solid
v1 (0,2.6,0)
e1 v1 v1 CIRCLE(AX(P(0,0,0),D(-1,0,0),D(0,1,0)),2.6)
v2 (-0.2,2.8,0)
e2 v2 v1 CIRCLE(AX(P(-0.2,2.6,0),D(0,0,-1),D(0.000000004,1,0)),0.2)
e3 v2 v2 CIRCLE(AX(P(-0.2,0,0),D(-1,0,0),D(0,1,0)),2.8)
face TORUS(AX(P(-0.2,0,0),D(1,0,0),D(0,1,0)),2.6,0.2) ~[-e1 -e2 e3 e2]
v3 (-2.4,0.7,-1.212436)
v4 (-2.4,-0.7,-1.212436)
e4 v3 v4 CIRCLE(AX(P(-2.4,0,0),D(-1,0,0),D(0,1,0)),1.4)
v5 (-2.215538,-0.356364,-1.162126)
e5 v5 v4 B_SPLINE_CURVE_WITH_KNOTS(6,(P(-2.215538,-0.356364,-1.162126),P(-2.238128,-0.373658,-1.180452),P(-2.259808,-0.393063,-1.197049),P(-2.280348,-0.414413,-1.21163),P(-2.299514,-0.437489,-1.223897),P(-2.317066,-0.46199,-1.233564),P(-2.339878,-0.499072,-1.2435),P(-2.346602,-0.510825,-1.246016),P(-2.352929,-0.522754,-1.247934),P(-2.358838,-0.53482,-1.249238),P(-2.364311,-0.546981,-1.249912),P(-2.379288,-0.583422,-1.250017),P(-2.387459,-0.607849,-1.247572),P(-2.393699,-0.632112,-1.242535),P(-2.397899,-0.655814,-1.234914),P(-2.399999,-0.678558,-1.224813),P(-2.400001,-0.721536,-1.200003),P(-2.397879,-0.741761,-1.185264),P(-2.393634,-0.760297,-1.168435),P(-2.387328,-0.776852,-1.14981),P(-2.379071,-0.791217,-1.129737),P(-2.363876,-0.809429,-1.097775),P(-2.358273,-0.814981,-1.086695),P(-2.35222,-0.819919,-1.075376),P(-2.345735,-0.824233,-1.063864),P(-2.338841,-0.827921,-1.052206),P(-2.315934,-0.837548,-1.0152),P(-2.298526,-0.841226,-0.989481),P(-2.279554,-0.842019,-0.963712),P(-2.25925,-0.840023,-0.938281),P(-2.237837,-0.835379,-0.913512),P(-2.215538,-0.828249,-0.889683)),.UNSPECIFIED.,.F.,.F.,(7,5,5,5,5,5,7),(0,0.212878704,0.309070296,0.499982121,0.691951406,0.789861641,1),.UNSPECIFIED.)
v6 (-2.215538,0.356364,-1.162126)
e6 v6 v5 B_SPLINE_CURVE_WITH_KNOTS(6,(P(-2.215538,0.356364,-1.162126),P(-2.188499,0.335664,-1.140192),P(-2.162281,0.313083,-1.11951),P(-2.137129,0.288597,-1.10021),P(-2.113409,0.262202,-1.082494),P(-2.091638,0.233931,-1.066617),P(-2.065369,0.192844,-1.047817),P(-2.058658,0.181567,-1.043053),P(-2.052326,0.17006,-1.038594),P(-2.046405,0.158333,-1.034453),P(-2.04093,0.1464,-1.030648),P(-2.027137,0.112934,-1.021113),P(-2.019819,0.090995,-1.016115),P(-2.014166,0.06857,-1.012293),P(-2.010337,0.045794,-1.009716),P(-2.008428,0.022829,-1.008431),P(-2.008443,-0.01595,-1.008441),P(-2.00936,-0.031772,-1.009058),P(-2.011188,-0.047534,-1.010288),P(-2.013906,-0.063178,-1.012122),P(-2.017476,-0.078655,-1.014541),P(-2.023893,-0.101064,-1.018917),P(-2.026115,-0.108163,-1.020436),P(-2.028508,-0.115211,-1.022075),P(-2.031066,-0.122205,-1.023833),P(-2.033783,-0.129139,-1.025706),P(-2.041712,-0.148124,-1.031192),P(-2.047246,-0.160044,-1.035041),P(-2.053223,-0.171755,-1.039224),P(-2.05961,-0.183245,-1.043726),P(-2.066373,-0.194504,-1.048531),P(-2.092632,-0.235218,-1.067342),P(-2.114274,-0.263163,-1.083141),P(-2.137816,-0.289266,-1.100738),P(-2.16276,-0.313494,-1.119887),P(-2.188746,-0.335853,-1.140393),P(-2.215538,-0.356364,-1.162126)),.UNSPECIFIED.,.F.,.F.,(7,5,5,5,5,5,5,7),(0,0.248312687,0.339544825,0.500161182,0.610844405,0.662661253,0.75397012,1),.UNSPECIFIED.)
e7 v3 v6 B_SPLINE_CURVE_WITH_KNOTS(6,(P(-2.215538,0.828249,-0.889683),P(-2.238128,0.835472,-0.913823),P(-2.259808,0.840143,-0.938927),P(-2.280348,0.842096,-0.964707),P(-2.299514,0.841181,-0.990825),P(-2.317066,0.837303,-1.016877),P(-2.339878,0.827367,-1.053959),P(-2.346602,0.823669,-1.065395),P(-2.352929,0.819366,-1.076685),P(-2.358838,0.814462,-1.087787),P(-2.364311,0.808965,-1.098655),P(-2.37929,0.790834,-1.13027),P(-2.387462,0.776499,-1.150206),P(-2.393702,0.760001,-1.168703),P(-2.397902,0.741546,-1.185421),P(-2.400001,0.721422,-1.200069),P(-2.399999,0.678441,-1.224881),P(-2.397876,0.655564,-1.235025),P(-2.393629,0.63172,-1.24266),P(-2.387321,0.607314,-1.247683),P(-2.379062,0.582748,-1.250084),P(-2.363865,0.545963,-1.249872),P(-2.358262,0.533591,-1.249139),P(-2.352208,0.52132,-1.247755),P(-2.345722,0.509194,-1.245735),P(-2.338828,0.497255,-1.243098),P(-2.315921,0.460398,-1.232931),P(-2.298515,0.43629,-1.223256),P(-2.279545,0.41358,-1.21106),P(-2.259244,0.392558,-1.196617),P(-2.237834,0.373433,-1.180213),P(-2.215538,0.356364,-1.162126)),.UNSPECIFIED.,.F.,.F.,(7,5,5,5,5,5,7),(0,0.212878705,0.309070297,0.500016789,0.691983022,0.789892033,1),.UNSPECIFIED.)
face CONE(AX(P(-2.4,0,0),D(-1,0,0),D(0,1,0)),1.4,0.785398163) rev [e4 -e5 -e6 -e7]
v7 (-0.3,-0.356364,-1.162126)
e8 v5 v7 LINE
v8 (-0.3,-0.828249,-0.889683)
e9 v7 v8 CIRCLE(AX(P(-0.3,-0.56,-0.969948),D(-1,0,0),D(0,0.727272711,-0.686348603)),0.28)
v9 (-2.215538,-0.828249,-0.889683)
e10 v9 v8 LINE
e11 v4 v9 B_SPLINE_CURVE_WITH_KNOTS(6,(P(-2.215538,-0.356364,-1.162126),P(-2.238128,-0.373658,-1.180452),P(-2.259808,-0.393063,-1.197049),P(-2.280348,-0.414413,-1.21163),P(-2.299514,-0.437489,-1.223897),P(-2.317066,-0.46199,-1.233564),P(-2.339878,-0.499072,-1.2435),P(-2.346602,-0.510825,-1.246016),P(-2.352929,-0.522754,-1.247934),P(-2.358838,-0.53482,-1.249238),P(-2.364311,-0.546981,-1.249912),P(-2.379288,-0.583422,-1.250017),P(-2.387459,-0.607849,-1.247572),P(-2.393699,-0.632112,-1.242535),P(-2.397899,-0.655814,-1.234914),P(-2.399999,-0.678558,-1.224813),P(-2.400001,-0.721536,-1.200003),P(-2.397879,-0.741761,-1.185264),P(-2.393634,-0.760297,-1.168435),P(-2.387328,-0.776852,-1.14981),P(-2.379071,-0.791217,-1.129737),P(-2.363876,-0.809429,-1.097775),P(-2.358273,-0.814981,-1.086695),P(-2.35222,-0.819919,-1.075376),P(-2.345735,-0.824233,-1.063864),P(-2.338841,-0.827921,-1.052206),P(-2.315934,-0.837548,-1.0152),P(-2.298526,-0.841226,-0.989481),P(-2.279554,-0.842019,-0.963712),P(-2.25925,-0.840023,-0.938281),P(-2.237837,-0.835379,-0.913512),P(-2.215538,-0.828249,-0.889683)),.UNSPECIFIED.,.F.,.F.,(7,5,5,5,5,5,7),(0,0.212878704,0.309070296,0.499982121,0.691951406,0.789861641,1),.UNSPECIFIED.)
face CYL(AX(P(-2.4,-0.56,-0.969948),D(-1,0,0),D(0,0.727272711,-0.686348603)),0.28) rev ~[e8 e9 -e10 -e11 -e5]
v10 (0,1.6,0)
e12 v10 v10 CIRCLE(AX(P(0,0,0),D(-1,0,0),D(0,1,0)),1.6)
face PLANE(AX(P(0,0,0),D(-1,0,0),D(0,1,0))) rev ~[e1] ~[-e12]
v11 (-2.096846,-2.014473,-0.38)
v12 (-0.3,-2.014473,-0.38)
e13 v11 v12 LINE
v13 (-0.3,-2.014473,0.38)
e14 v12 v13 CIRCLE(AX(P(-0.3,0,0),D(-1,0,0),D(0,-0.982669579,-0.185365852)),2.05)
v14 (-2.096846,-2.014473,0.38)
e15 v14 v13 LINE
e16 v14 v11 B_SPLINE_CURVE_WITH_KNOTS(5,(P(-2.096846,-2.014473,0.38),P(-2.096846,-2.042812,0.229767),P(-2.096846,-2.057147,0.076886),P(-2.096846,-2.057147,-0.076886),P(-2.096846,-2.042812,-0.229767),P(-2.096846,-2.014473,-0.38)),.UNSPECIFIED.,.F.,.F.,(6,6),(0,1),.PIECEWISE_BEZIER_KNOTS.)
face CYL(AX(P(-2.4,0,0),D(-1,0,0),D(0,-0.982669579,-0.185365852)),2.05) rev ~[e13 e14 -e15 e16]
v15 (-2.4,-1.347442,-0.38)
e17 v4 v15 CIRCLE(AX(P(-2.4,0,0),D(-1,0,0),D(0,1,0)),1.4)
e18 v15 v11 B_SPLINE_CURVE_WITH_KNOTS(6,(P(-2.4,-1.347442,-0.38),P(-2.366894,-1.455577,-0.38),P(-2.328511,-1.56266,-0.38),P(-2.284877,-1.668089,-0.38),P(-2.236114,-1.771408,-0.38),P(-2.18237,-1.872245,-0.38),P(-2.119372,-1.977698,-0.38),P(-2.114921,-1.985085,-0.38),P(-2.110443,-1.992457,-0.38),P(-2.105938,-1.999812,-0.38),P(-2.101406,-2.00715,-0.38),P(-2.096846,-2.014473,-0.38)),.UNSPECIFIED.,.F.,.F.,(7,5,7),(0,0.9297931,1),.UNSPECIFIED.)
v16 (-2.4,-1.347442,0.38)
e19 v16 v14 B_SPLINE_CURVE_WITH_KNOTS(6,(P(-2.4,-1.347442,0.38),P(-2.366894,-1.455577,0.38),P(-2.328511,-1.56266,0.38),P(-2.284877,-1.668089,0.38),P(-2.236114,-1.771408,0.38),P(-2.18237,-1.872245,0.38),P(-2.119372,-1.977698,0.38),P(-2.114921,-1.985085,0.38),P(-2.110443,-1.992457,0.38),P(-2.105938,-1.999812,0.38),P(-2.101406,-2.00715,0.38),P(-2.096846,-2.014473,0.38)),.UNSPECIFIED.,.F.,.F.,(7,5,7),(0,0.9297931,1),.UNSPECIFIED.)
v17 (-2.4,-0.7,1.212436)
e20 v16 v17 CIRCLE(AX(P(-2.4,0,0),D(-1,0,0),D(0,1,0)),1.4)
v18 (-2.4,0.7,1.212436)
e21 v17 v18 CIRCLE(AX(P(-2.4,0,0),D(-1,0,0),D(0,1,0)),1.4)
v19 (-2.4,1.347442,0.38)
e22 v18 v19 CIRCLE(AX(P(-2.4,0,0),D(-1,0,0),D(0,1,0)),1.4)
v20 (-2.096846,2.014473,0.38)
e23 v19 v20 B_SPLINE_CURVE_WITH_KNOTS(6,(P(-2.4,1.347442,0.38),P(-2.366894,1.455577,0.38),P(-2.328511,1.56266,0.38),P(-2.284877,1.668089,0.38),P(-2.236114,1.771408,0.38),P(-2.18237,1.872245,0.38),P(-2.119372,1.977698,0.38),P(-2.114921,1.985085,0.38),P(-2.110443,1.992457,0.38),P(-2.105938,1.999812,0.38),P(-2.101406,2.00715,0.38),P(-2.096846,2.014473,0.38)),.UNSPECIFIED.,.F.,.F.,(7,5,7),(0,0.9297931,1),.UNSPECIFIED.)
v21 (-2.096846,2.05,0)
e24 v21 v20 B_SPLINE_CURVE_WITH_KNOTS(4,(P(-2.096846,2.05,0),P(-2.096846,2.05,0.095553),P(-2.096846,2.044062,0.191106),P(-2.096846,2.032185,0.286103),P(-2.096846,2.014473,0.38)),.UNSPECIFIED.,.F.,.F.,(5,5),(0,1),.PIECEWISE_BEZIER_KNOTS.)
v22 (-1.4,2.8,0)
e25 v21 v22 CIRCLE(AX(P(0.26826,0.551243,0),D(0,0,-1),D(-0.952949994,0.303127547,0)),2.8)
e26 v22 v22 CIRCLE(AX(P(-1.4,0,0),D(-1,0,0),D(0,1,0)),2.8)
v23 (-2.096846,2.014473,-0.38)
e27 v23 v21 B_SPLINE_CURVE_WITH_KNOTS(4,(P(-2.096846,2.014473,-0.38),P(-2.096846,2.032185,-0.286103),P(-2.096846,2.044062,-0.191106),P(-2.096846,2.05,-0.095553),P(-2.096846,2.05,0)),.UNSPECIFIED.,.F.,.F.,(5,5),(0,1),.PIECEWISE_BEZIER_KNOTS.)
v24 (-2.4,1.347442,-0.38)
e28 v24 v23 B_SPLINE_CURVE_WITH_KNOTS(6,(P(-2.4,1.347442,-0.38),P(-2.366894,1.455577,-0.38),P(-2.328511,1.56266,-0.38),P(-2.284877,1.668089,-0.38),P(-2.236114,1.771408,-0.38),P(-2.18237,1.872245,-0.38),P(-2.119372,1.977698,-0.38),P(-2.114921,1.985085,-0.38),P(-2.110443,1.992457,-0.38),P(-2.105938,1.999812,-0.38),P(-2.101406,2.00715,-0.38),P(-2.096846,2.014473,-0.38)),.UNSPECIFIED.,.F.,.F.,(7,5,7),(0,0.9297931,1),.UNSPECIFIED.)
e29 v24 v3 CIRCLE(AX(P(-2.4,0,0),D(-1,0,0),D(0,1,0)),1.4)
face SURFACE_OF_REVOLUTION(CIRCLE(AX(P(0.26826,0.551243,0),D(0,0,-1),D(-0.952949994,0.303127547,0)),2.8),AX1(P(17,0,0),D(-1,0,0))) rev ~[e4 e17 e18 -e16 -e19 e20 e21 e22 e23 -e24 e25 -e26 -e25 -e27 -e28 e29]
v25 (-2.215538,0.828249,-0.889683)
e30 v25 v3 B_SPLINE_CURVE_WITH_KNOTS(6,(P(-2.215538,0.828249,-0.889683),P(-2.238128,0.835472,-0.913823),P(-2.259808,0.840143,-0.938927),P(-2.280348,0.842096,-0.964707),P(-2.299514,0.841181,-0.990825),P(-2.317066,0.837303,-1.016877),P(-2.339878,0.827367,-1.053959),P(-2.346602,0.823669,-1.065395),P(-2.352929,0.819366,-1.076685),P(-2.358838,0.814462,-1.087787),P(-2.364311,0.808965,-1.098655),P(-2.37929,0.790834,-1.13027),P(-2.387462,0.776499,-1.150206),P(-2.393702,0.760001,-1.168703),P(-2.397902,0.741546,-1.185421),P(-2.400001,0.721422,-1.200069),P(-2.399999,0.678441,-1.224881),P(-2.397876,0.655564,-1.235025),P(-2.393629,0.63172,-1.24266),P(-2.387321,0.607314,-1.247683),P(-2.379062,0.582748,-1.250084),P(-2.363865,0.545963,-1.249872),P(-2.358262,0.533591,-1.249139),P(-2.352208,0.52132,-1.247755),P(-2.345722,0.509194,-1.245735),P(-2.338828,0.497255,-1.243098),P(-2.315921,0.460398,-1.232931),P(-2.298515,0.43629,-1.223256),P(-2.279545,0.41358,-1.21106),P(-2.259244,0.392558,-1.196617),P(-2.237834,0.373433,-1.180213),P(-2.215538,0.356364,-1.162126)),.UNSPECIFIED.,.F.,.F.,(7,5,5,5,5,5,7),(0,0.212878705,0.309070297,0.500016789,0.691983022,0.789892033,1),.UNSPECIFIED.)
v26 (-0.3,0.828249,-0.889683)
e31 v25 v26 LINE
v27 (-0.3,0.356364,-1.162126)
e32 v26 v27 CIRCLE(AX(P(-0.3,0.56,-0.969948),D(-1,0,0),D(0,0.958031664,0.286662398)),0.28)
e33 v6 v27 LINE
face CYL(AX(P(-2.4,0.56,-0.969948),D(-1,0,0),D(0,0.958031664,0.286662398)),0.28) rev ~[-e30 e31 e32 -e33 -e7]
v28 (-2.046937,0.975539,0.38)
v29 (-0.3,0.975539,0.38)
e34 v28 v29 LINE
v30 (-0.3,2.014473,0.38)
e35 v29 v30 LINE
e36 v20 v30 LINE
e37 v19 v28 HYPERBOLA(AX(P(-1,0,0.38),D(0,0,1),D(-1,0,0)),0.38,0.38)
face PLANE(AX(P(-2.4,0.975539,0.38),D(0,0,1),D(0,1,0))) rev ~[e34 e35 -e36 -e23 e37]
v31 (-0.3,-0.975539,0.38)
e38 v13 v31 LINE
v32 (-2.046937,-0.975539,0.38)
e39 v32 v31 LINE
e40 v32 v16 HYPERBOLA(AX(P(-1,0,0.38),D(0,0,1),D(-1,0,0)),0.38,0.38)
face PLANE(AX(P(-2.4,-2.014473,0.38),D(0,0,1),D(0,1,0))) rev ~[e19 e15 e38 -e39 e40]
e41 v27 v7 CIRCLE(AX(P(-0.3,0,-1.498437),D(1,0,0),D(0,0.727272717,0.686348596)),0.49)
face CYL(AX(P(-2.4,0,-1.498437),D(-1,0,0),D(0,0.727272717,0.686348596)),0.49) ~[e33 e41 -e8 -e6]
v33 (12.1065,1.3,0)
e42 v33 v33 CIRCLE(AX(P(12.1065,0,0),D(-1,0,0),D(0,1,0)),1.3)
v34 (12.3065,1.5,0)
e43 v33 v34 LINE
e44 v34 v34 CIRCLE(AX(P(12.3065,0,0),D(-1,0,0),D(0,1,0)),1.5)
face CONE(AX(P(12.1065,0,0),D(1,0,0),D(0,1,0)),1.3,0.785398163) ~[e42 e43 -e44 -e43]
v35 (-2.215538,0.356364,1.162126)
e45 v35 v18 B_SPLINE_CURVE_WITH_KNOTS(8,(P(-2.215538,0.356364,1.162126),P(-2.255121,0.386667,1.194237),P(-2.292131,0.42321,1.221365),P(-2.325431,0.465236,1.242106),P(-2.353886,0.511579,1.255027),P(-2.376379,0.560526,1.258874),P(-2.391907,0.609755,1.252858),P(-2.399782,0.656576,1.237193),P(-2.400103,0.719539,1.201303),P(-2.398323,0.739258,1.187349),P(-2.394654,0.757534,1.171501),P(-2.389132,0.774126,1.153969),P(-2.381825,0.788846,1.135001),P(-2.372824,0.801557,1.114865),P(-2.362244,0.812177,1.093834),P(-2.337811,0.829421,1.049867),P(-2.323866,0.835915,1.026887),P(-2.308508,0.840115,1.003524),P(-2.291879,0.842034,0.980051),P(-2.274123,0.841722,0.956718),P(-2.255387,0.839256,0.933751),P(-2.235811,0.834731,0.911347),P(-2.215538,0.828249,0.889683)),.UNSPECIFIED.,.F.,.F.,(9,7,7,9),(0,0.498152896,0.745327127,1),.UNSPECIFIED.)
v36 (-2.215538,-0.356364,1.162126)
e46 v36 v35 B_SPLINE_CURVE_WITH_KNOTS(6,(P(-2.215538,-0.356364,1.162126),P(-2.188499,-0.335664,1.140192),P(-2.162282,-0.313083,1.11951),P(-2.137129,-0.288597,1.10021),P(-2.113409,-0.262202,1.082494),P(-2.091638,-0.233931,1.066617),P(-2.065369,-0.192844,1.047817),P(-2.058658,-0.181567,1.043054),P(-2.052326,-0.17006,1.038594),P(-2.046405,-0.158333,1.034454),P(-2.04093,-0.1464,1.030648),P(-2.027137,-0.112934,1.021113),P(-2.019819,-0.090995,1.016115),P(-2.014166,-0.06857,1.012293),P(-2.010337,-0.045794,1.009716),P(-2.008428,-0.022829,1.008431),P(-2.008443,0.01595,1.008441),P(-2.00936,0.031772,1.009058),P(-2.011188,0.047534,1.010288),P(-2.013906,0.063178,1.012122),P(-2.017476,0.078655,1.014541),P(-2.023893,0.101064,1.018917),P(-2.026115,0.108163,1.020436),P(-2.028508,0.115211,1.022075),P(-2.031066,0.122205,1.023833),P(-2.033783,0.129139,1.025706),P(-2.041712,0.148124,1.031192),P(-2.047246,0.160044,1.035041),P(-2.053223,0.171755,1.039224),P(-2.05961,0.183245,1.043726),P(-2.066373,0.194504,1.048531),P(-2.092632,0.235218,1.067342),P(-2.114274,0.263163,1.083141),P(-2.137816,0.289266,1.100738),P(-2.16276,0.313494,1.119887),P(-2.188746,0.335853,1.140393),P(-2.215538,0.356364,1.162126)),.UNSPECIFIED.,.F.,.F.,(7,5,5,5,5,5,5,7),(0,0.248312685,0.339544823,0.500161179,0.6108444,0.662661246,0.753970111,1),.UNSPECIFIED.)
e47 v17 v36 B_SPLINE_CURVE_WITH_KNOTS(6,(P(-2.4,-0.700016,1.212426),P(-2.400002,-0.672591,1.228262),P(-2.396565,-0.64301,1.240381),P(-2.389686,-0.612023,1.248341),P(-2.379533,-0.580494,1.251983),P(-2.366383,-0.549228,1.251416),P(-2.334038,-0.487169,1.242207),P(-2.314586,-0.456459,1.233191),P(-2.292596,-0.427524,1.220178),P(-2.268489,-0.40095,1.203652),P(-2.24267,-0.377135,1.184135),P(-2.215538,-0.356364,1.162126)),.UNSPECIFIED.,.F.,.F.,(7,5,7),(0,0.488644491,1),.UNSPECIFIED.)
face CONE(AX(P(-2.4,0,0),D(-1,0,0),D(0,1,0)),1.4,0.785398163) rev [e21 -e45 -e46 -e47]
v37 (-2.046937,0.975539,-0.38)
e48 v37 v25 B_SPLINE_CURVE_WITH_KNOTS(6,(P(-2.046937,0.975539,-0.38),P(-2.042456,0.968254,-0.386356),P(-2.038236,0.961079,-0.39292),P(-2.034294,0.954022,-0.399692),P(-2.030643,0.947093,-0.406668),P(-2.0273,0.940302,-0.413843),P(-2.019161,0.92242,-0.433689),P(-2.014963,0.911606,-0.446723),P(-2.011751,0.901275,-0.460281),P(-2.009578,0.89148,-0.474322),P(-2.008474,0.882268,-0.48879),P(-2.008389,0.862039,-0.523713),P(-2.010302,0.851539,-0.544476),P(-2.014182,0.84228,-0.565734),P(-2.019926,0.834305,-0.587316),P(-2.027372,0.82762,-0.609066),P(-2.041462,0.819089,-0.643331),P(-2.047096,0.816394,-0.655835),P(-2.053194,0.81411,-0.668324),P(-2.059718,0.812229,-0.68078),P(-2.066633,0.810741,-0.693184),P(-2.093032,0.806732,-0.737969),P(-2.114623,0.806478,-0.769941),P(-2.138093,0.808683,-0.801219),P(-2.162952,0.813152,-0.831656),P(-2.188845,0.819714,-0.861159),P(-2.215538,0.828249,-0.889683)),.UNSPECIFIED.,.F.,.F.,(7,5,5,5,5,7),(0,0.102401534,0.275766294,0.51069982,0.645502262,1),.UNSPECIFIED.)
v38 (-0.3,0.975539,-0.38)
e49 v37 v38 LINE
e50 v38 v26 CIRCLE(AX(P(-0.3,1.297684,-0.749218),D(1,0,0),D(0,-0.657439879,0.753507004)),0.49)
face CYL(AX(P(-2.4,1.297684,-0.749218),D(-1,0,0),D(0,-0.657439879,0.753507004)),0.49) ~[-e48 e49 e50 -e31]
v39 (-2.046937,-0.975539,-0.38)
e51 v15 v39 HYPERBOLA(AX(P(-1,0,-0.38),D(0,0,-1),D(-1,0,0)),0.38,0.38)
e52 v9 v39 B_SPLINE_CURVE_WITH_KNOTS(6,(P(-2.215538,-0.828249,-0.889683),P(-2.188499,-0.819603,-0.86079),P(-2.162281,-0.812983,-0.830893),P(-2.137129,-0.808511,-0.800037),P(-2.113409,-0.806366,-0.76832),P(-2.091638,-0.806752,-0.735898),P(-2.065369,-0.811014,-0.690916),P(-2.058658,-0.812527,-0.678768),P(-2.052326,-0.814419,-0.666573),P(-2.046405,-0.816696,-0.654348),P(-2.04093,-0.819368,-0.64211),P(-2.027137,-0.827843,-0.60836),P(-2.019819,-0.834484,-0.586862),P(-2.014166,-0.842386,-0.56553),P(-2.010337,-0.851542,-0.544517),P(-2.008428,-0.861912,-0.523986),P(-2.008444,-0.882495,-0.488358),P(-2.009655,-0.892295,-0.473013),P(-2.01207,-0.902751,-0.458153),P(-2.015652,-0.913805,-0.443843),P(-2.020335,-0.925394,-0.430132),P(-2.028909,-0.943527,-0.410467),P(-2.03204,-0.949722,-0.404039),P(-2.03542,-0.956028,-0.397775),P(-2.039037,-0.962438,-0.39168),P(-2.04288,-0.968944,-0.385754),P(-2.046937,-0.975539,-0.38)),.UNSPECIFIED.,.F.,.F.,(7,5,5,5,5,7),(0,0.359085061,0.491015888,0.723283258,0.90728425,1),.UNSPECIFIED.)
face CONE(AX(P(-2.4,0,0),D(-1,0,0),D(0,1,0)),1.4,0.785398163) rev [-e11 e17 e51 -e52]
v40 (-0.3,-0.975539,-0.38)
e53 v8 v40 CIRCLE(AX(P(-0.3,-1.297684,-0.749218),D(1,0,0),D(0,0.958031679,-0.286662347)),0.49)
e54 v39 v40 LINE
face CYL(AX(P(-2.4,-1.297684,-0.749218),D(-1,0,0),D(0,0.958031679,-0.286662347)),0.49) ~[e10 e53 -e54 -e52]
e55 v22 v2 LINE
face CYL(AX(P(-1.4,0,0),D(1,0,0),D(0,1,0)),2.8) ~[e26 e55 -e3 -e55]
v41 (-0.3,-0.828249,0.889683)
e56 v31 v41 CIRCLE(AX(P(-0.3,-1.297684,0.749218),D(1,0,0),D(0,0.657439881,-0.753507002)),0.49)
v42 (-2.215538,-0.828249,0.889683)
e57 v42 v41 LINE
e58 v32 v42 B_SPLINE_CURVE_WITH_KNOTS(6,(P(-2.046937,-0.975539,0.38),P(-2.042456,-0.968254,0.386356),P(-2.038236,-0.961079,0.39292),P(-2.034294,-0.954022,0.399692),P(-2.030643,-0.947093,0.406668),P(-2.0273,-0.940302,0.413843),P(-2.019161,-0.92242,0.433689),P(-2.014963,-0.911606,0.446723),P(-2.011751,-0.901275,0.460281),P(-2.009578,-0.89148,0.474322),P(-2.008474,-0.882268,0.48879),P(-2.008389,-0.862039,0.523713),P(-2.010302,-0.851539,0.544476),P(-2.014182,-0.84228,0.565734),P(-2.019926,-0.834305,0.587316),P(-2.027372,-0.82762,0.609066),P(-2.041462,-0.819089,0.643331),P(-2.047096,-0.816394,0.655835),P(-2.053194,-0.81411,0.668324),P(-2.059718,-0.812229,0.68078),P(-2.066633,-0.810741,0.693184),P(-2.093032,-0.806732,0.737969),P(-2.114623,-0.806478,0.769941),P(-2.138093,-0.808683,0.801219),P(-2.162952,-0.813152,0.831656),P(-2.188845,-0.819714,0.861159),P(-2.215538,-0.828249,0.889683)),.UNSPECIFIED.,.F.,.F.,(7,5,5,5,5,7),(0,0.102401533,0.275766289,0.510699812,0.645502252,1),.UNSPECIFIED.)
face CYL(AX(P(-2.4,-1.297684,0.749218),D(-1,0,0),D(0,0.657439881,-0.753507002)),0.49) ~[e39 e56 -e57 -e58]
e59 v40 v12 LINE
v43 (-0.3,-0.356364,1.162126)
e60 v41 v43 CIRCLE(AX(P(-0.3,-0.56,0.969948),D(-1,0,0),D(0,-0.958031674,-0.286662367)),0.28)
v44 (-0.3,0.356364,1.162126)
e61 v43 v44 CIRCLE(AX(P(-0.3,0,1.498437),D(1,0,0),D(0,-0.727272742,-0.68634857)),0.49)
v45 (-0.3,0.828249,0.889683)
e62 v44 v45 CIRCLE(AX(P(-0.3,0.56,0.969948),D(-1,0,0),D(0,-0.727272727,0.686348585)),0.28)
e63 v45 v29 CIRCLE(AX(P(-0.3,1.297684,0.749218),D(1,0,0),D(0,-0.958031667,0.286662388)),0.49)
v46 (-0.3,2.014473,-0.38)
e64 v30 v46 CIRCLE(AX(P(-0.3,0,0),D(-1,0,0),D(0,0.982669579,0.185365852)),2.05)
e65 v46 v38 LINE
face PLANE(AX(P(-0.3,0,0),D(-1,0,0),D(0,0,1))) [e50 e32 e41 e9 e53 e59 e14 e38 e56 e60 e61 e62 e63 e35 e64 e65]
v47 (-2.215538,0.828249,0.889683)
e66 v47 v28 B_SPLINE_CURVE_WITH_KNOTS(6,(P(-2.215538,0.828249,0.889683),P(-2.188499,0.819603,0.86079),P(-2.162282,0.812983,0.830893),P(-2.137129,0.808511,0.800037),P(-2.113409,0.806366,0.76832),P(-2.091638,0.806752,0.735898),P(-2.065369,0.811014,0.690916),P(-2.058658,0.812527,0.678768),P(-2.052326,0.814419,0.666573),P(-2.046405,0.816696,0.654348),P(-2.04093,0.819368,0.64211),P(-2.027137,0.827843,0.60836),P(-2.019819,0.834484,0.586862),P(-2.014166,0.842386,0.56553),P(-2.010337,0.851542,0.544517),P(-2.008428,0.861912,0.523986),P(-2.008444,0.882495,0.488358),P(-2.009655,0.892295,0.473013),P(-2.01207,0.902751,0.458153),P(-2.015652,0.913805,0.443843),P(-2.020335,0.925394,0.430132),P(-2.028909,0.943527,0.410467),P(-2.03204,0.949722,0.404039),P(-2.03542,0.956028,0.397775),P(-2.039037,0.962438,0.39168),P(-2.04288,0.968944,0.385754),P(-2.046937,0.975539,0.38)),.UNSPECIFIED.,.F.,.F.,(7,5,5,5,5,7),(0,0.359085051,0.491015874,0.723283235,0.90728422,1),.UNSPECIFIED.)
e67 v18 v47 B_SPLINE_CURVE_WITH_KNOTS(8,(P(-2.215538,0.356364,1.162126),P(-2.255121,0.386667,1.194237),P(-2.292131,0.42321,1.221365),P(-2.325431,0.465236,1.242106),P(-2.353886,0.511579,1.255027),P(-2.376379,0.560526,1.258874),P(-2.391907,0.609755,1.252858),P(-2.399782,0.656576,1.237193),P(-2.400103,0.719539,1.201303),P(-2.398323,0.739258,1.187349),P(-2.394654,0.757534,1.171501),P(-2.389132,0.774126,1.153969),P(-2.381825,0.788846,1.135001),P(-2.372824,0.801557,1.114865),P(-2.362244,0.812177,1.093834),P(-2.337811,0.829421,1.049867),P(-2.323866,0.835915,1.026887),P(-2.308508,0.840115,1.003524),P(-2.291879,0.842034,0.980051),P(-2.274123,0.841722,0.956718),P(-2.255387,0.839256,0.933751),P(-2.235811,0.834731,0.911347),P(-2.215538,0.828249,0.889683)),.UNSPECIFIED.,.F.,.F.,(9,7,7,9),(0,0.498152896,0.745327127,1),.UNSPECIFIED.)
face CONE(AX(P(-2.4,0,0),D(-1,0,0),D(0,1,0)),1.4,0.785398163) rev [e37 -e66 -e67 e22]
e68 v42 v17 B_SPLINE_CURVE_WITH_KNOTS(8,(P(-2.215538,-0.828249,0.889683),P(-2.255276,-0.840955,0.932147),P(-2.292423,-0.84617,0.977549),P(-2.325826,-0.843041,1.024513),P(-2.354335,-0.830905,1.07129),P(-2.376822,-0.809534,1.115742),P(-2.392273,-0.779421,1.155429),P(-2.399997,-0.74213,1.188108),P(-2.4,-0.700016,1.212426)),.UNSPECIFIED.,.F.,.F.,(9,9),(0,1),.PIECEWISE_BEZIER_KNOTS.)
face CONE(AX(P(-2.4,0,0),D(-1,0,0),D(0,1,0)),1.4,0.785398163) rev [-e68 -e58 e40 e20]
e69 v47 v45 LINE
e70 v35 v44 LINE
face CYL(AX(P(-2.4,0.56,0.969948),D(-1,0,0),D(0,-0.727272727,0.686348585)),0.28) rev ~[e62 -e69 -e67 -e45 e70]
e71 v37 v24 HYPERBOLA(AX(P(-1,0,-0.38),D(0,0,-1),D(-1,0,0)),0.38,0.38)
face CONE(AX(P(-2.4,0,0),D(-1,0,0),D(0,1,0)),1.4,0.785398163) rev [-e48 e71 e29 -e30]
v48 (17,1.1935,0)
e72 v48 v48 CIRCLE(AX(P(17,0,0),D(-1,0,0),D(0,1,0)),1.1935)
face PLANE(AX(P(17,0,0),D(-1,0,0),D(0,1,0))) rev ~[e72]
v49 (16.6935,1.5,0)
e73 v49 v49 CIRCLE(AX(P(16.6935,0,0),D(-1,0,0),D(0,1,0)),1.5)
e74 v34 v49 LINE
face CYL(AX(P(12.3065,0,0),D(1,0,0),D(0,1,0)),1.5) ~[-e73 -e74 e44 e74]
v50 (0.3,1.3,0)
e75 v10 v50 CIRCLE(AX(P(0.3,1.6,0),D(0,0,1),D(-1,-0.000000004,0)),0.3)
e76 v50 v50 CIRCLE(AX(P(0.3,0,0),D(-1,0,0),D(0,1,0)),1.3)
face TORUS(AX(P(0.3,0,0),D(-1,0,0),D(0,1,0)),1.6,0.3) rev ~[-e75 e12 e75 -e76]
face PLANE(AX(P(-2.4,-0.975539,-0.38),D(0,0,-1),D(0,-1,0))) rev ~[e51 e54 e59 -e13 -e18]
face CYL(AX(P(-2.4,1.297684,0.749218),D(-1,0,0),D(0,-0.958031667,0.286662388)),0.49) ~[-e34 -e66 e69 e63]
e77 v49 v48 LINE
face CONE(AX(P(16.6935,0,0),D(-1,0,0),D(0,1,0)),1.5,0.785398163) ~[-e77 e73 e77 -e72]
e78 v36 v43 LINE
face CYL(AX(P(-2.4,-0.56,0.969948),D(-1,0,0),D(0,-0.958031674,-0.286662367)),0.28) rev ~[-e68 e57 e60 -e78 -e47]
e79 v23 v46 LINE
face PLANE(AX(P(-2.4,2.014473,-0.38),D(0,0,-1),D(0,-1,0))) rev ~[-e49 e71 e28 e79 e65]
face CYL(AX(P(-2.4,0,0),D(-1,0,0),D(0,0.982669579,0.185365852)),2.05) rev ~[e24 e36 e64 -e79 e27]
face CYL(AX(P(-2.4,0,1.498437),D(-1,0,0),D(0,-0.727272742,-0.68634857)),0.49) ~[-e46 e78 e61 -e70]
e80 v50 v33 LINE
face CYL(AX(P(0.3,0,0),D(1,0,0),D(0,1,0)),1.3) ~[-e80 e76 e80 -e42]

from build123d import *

# Parameters (mm, degrees)
CUT_EXTRUDE1_DEPTH = 2.1


with BuildPart() as part:
    # Sketch1 → Revolve1 (revolve)
    with BuildSketch(Plane.XY):
        with BuildLine():
            Line((-2.4, 0), (-2.4, 1.4))
            ThreePointArc((-2.4, 1.4), (-2.010193737, 2.178709812), (-1.4, 2.8))
            Line((-1.4, 2.8), (-0.2, 2.8))
            ThreePointArc((-0.2, 2.8), (-0.058578644, 2.741421356), (0, 2.6))
            Line((0, 2.6), (0, 1.6))
            ThreePointArc((0, 1.6), (0.087867966, 1.387867966), (0.3, 1.3))
            Line((0.3, 1.3), (12.1065, 1.3))
            Line((12.1065, 1.3), (12.3065, 1.5))
            Line((12.3065, 1.5), (16.6935, 1.5))
            Line((16.6935, 1.5), (17, 1.1935))
            Line((17, 1.1935), (17, 0))
            Line((17, 0), (-2.4, 0))
        make_face()
    revolve(axis=Axis((17, 0, 0), (-1, 0, 0)))

    # Sketch2 → Cut-Extrude1 (cut)
    with BuildSketch(Plane.ZY.offset(2.4)):
        with BuildLine():
            Line((0.38, -2.014472636), (0.38, -0.975538848))
            ThreePointArc((0.38, -0.975538848), (0.613182892, -0.826946318), (0.88968299, -0.828248869))
            ThreePointArc((0.88968299, -0.828248869), (1.212435563, -0.700000005), (1.162126064, -0.356363644))
            ThreePointArc((1.162126064, -0.356363644), (1.008436863, -6e-09), (1.162126056, 0.356363636))
            ThreePointArc((1.162126056, 0.356363636), (1.212435568, 0.699999995), (0.889683001, 0.828248872))
            ThreePointArc((0.889683001, 0.828248872), (0.613182897, 0.826946316), (0.38, 0.975538848))
            Line((0.38, 0.975538848), (0.38, 2.014472636))
            ThreePointArc((0.38, 2.014472636), (0, 2.05), (-0.38, 2.014472636))
            Line((-0.38, 2.014472636), (-0.38, 0.975538848))
            ThreePointArc((-0.38, 0.975538848), (-0.613182887, 0.826946319), (-0.889682981, 0.828248866))
            ThreePointArc((-0.889682981, 0.828248866), (-1.212435565, 0.700000001), (-1.162126051, 0.356363631))
            ThreePointArc((-1.162126051, 0.356363631), (-1.008436863, -7e-09), (-1.162126061, -0.356363641))
            ThreePointArc((-1.162126061, -0.356363641), (-1.212435561, -0.700000008), (-0.889682979, -0.828248866))
            ThreePointArc((-0.889682979, -0.828248866), (-0.613182886, -0.826946319), (-0.38, -0.975538848))
            Line((-0.38, -0.975538848), (-0.38, -2.014472636))
            ThreePointArc((-0.38, -2.014472636), (0, -2.05), (0.38, -2.014472636))
        make_face()
    extrude(amount=-CUT_EXTRUDE1_DEPTH, mode=Mode.SUBTRACT)

    # Sketch3 → Cut-Revolve1 (revolve, cut)
    with BuildSketch(Plane.XY):
        Polygon((-2.4, 0), (-2.4, 1.4), (-1, 0), align=None)
    revolve(axis=Axis((-1, 0, 0), (-1, 0, 0)), mode=Mode.SUBTRACT)


solid = part.part
